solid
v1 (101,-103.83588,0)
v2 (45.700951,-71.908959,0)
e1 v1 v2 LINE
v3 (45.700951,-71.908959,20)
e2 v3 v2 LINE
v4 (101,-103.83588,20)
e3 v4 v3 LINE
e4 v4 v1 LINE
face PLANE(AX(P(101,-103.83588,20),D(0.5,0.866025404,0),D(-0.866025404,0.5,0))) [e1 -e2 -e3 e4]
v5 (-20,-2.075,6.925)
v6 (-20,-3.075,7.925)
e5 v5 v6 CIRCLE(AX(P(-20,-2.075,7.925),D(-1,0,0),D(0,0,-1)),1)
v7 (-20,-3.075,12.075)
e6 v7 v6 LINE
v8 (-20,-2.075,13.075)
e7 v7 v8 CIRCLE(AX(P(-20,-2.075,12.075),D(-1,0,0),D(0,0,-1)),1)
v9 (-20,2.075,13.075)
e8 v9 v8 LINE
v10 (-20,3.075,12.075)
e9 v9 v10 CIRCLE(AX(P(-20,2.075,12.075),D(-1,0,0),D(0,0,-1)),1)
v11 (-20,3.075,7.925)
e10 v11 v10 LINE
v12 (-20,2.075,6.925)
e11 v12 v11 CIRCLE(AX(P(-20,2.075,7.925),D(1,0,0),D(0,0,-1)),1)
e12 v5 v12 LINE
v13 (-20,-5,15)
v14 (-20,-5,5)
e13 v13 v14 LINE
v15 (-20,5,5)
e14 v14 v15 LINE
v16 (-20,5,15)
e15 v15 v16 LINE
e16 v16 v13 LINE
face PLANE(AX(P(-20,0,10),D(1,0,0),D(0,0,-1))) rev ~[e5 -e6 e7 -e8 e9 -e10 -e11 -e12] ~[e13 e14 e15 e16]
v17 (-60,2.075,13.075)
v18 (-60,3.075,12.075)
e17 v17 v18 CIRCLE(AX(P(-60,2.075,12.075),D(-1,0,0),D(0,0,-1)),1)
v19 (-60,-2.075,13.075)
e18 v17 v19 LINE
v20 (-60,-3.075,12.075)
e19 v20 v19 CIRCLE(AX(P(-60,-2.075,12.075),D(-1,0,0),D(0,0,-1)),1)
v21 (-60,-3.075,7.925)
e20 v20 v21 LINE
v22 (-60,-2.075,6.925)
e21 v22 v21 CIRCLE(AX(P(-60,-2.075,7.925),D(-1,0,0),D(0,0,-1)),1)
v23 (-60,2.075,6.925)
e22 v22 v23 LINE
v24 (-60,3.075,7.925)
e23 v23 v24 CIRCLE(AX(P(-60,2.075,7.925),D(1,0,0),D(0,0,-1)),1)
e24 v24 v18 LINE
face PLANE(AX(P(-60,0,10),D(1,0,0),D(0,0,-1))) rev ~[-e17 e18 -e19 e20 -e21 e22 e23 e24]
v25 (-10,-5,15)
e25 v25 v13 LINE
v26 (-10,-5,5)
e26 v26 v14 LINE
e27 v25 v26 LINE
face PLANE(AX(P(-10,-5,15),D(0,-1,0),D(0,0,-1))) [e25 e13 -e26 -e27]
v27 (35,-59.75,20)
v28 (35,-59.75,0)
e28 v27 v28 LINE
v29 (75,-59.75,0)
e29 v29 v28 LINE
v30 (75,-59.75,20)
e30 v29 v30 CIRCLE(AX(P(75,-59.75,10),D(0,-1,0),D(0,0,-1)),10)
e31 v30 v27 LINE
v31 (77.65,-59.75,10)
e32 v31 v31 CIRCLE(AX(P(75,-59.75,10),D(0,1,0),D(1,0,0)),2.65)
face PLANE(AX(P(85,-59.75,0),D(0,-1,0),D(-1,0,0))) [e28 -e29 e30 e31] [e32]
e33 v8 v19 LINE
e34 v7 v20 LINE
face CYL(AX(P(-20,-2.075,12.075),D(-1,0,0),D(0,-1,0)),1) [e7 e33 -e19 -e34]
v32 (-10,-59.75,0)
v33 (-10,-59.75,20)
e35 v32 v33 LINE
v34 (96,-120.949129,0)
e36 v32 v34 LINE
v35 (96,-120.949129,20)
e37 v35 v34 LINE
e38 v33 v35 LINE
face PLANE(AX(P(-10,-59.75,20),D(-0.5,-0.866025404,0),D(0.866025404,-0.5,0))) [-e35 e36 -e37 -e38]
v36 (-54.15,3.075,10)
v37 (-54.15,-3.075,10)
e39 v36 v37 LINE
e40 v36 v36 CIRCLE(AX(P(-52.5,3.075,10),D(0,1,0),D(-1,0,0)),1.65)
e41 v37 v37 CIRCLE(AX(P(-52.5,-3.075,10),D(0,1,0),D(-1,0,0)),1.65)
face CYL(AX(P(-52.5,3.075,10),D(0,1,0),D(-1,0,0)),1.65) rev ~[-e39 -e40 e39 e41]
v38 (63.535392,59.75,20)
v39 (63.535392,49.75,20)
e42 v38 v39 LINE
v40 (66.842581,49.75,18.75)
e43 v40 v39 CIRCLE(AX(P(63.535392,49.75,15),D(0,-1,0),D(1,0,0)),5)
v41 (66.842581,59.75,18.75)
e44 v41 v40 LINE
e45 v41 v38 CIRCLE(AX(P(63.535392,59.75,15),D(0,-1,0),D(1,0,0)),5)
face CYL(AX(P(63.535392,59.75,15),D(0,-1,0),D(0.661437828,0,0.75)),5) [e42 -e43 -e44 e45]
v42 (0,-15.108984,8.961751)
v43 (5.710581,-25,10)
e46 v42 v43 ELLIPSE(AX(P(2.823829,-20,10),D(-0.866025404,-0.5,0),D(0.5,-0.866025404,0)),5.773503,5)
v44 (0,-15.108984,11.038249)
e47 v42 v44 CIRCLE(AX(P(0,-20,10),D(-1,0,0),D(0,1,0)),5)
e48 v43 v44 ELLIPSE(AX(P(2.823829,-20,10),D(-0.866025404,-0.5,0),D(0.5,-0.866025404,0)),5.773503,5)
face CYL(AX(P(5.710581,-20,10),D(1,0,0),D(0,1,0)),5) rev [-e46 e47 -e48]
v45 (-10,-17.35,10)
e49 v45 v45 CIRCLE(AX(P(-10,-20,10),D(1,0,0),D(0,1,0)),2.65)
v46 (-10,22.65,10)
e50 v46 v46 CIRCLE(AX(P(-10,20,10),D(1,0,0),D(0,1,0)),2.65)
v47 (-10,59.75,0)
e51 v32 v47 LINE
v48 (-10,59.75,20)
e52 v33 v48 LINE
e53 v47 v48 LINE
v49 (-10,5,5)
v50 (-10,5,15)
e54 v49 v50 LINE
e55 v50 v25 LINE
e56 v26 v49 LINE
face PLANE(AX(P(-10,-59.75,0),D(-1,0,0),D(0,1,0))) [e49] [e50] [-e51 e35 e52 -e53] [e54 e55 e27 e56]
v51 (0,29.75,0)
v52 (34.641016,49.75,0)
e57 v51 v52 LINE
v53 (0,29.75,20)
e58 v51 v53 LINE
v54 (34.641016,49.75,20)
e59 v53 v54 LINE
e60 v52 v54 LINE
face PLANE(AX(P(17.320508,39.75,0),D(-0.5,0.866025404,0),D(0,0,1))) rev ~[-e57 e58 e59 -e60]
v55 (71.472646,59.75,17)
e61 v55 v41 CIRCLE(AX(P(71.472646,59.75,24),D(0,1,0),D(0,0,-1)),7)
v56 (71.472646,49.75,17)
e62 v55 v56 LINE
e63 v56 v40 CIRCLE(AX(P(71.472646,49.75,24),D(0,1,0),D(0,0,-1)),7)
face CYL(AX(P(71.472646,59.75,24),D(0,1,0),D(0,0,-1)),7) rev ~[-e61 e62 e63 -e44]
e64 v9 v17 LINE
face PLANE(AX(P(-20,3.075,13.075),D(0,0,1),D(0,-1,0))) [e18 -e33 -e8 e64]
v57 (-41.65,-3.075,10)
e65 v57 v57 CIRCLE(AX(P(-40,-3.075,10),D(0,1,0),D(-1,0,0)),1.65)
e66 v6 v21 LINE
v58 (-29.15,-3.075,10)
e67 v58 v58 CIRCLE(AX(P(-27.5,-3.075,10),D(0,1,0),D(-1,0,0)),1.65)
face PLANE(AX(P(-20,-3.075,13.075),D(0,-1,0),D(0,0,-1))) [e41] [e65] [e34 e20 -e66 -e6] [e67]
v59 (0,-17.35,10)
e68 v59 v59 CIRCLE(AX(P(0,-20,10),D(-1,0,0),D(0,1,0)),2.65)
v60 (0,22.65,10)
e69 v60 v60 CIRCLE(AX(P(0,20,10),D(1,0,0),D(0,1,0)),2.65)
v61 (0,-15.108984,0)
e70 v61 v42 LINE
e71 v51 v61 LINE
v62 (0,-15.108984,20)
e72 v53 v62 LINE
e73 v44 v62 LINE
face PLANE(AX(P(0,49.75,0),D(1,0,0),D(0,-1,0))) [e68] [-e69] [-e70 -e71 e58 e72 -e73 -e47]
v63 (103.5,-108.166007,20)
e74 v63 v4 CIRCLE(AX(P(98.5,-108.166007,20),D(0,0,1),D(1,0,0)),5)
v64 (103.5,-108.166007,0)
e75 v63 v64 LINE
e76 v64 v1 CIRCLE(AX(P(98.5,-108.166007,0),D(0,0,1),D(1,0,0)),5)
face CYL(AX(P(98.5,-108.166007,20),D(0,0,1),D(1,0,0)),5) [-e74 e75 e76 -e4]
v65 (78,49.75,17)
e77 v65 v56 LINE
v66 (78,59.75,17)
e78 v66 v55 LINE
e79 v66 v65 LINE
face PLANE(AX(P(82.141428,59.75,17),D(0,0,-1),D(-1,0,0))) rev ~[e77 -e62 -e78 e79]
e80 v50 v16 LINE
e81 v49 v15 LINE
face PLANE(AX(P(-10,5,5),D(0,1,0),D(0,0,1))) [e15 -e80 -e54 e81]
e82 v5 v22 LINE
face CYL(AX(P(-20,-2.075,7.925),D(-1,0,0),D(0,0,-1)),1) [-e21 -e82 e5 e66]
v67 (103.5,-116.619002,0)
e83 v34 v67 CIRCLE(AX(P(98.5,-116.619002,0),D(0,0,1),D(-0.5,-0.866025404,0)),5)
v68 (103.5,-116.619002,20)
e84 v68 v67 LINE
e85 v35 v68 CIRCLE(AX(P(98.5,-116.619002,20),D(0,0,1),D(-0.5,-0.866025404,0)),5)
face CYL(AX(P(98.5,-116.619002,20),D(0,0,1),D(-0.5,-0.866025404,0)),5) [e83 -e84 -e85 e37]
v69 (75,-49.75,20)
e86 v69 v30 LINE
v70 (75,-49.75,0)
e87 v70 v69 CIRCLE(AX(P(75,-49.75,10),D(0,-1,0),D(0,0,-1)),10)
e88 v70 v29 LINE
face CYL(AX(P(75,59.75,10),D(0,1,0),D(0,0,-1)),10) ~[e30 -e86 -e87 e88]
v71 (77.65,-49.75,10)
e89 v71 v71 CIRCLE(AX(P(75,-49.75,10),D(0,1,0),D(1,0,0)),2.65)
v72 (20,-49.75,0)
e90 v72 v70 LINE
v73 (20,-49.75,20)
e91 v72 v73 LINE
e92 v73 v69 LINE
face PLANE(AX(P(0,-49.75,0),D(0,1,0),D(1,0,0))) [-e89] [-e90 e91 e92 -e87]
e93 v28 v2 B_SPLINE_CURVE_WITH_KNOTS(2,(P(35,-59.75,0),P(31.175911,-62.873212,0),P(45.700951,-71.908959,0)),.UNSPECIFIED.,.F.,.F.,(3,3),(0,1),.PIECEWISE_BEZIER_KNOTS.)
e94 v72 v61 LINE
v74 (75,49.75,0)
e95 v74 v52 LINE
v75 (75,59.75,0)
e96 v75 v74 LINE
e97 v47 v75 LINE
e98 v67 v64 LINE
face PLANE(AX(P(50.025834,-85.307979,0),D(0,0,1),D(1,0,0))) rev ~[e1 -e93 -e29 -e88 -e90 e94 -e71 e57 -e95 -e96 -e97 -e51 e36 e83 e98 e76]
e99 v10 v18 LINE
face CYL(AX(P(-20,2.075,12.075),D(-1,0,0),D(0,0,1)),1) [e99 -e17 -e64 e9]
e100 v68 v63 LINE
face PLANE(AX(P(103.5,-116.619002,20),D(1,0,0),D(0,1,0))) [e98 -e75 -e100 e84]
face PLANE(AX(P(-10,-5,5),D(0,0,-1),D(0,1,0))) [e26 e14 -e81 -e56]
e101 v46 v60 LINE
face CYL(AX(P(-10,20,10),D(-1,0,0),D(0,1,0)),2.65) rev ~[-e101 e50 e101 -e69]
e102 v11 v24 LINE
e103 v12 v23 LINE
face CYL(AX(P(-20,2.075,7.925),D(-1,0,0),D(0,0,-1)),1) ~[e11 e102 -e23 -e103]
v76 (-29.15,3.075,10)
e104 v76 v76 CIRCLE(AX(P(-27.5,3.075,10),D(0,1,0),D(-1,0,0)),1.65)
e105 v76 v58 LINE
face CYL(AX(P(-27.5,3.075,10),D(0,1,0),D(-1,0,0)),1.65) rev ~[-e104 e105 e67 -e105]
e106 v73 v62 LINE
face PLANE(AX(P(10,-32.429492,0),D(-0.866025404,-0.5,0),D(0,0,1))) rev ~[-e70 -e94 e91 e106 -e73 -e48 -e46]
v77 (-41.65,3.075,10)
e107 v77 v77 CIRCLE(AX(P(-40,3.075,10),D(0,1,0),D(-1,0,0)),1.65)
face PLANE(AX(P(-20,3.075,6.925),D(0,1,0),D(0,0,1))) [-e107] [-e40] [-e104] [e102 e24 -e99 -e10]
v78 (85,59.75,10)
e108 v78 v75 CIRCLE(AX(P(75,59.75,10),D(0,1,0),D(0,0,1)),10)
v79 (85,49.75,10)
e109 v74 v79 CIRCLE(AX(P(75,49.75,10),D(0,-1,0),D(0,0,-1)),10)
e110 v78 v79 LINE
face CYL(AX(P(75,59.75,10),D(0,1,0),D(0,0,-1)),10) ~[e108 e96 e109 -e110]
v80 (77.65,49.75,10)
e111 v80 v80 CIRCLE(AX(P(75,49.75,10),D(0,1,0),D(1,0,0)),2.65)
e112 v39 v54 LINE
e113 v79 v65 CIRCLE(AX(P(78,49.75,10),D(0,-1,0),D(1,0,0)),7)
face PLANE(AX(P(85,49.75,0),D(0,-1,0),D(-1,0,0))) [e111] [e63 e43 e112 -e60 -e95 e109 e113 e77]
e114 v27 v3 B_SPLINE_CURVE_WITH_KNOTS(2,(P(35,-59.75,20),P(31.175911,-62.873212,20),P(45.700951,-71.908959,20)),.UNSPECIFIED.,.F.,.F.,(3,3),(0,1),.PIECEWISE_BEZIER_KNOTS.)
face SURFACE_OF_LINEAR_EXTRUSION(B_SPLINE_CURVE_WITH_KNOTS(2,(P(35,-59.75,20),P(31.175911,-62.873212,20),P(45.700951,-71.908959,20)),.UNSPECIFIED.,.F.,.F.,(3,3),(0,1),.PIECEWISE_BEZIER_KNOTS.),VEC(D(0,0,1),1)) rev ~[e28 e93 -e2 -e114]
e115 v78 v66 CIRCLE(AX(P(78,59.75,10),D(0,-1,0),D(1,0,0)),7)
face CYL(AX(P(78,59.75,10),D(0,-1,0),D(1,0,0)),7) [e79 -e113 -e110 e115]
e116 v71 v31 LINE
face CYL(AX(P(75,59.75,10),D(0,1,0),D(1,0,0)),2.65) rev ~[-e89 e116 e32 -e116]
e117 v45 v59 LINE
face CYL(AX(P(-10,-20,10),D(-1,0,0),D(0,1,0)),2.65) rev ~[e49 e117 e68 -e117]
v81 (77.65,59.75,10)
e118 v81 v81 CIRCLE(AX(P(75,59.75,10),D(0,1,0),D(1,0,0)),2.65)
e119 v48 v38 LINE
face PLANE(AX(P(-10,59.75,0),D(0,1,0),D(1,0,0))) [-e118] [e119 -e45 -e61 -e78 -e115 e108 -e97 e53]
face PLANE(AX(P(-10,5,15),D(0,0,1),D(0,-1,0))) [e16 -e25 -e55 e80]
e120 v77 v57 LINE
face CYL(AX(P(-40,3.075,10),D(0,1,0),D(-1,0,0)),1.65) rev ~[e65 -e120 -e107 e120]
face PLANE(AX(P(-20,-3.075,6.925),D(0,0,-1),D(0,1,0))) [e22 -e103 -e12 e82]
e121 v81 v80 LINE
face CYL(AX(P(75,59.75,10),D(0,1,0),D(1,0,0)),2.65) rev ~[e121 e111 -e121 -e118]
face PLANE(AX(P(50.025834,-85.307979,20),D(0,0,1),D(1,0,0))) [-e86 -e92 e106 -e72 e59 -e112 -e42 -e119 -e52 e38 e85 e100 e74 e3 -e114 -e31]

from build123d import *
from OCP.BRepFilletAPI import BRepFilletAPI_MakeChamfer, BRepFilletAPI_MakeFillet

# Parameters (mm, degrees)
EXTRUDE_1_DEPTH     = 20
EXTRUDE_2_DEPTH     = 10
EXTRUDE_START       = 10
EXTRUDE_3_DEPTH     = 40
CUT_EXTRUDE_1_DEPTH = 149.00422291272636
FILLET_1_R          = 1
SKETCH_7_R          = 1.6500000000000021
SKETCH_7_R_2        = 1.6499999999999988
CUT_EXTRUDE_2_DEPTH = 108.57314081591156
CHAMFER_1_SIZE      = 20.000000000000007
CHAMFER_1_SIZE2     = 34.64101615137772
CUT_EXTRUDE_3_REACH = 150.004
FILLET_2_R1         = 5
FILLET_2_R2         = 7
CUT_EXTRUDE_4_REACH = 115.996
CUT_EXTRUDE_START   = -15.710581
CUT_EXTRUDE_5_DEPTH = 5.7105809999999995
BOSS_EXTRUDE1_DEPTH = 20.000000000000004


with BuildPart() as part:
    # 草图1 → 凸台-拉伸1 (new body)
    with BuildSketch(Plane.XY):
        Polygon((-1.953e-14, 49.75), (1.093e-14, -49.75), (85.00000000000001, -49.74999999999995), (85.00000000000001, -59.74999999999995), (-9.999999999999986, -59.74999999999995), (-9.999999999999995, 59.749999999999986), (85, 59.75000000000001), (84.99999999999999, 49.75), align=None)
    extrude(amount=EXTRUDE_1_DEPTH)

    # 草图3 → 凸台-拉伸2 (add)
    # profile 1 of 2: a face of its own
    with BuildSketch(Plane.ZY.offset(9.99999999999999)):
        Polygon((15, 5.000000000000008), (15, -4.999999999999993), (5.000000000000002, -4.999999999999993), (5, 5.000000000000007), align=None)
        Polygon((6.925000000000001, 3.075000000000007), (6.925000000000002, -3.074999999999993), (13.075, -3.074999999999993), (13.075, 3.075000000000007), align=None, mode=Mode.SUBTRACT)
    # profile 2 of 2: a face of its own
    with BuildSketch(Plane.ZY.offset(9.99999999999999)):
        Polygon((6.925000000000001, 3.075000000000007), (13.075, 3.075000000000007), (13.075, -3.074999999999993), (6.925000000000002, -3.074999999999993), align=None)
    extrude(amount=EXTRUDE_2_DEPTH)

    # 草图3<3> → 凸台-拉伸3 (add)
    with BuildSketch(Plane.ZY.offset(9.99999999999999).offset(EXTRUDE_START)):
        Polygon((6.925000000000001, 3.075000000000007), (13.075, 3.075000000000007), (13.075, -3.074999999999993), (6.925000000000002, -3.074999999999993), align=None)
    extrude(amount=EXTRUDE_3_DEPTH)

    # 草图5 → 切除-拉伸1 (cut, through all)
    with BuildSketch(Plane(origin=(-1.309e-14, 59.749999999999986, 0), x_dir=(1, 2.3e-16, 0), z_dir=(-2.3e-16, 1, 0))):
        with BuildLine():
            ThreePointArc((72.34999999999964, -10), (74.99999999999964, -12.65), (77.64999999999965, -10))
            Line((77.64999999999965, -9.99999999999999), (72.34999999999964, -9.999999999999991))
        make_face()
        with BuildLine():
            Line((72.34999999999964, -9.999999999999991), (77.64999999999965, -9.99999999999999))
            ThreePointArc((77.64999999999965, -10), (74.99999999999964, -7.35), (72.34999999999964, -9.999999999999998))
        make_face()
        with BuildLine():
            Line((85.00000000000001, -20), (85.00000000000001, -9.999999999999995))
            ThreePointArc((84.99999999999964, -10.000000000000002), (82.07106781186489, -17.071067811865692), (74.99999999999903, -19.999999999999993))
            Line((74.99999999999903, -20), (85.00000000000001, -20))
        make_face()
        with BuildLine():
            ThreePointArc((74.99999999999908, -5.33e-15), (82.07106781186492, -2.928932188134328), (84.99999999999964, -10))
            Line((85.00000000000001, -9.999999999999995), (85.00000000000001, 0))
            Line((85.00000000000001, 0), (74.99999999999908, 0))
        make_face()
    extrude(amount=-CUT_EXTRUDE_1_DEPTH, mode=Mode.SUBTRACT)

    # 圆角1
    fillet_1_edges = [part.edges().sort_by_distance(p)[0] for p in [
        (-39.999999999999986, -3.0749999999999953, 6.925000000000002),
        (-39.999999999999986, -3.0749999999999953, 13.075),
        (-39.999999999999986, 3.0750000000000046, 13.075),
        (-39.999999999999986, 3.0750000000000046, 6.925000000000001),
    ]]
    fillet(fillet_1_edges, radius=FILLET_1_R)

    # 草图7 → 切除-拉伸2 (cut, through all)
    with BuildSketch(Plane(origin=(-1.6e-16, 3.0750000000000064, 0), x_dir=(1, 5e-17, 0), z_dir=(-5e-17, 1, 0))):
        with Locations(Location((-39.99999999999999, -10, 0), (0, 0, 180))):
            Circle(SKETCH_7_R)
        with Locations(Location((-52.49999999999999, -10.000000000000002, 0), (0, 0, 180))):
            Circle(SKETCH_7_R)
        with Locations(Location((-27.499999999999993, -9.999999999999998, 0), (0, 0, 180))):
            Circle(SKETCH_7_R_2)
    extrude(amount=-CUT_EXTRUDE_2_DEPTH, mode=Mode.SUBTRACT)

    # 倒角1: one chamfer whose edges measure the first distance from different faces: ONE call of the kernel's chamfer builder (chamfer() names one face for all edges)
    chamfer_1_edges_1 = [part.edges().sort_by_distance(p)[0] for p in [
        (-1.953e-14, 49.75, 10),
    ]]
    chamfer_1_side_1 = [part.faces().sort_by_distance(p)[0] for p in [
        (-4.3e-15, -1.94e-15, 10),
    ]]
    chamfer_1_edges_2 = [part.edges().sort_by_distance(p)[0] for p in [
        (1.093e-14, -49.75, 10),
    ]]
    chamfer_1_side_2 = [part.faces().sort_by_distance(p)[0] for p in [
        (41.004447540474715, -49.74999999999998, 9.99999999999999),
    ]]
    chamfer_1 = BRepFilletAPI_MakeChamfer(part.part.solid().wrapped)
    for e in chamfer_1_edges_1:
        chamfer_1.Add(CHAMFER_1_SIZE, CHAMFER_1_SIZE2, e.wrapped, chamfer_1_side_1[0].wrapped)  # the first distance lies on this face
    for e in chamfer_1_edges_2:
        chamfer_1.Add(CHAMFER_1_SIZE, CHAMFER_1_SIZE2, e.wrapped, chamfer_1_side_2[0].wrapped)  # the first distance lies on this face
    add(Compound.cast(chamfer_1.Shape()), mode=Mode.REPLACE)

    # 草图8 → 切除-拉伸3 (cut, up to next)
    with BuildSketch(Plane(origin=(-1.309e-14, 59.749999999999986, 0), x_dir=(1, 2.2e-16, 0), z_dir=(-2.2e-16, 1, 0)), mode=Mode.PRIVATE) as cut_extrude_3_sk1:
        with BuildLine():
            ThreePointArc((74.99999999999964, -20), (78.87298334620706, -19.219544457292884), (82.14142842854251, -16.99999999999999))
            Line((82.14142842854251, -16.999999999999993), (71.47264625833486, -16.999999999999993))
            ThreePointArc((71.47264625833486, -16.999999999999993), (68.23227590913093, -17.795163177004564), (65.72808361179683, -20.000000000000007))
            Line((65.72808361179683, -20), (74.99999999999964, -20))
        make_face()
    cut_extrude_3_tool1 = extrude(cut_extrude_3_sk1.sketch, amount=-CUT_EXTRUDE_3_REACH, mode=Mode.PRIVATE) & part.part
    add(cut_extrude_3_tool1.solids().sort_by_distance((73.723085, 59.75, 18.477053))[0], mode=Mode.SUBTRACT)

    # 圆角2: one fillet with a radius per group of edges: ONE call of the kernel's fillet builder (fillet() takes one radius for all edges)
    fillet_2_edges_1 = [part.edges().sort_by_distance(p)[0] for p in [
        (65.72808361179682, 54.75, 20.000000000000004),
    ]]
    fillet_2_edges_2 = [part.edges().sort_by_distance(p)[0] for p in [
        (82.1414284285425, 54.75, 16.999999999999993),
    ]]
    fillet_2 = BRepFilletAPI_MakeFillet(part.part.solid().wrapped)
    for e in fillet_2_edges_1:
        fillet_2.Add(FILLET_2_R1, e.wrapped)
    for e in fillet_2_edges_2:
        fillet_2.Add(FILLET_2_R2, e.wrapped)
    add(Compound.cast(fillet_2.Shape()), mode=Mode.REPLACE)

    # 草图10 → 切除-拉伸4 (cut, up to next)
    with BuildSketch(Plane.ZY.offset(9.99999999999999), mode=Mode.PRIVATE) as cut_extrude_4_sk1:
        with BuildLine():
            ThreePointArc((12.649999999999984, 20.00000000000003), (11.873832970144308, 21.873832970144406), (9.999999999999908, 22.650000000000027))
            Line((9.999999999999988, 22.650000000000027), (9.999999999999988, 20.00000000000003))
            Line((9.999999999999988, 20.00000000000003), (9.99999999999999, 17.35000000000003))
            ThreePointArc((9.999999999999908, 17.35000000000003), (11.873832970144308, 18.12616702985565), (12.649999999999984, 20.00000000000003))
        make_face()
    cut_extrude_4_tool1 = extrude(cut_extrude_4_sk1.sketch, amount=-CUT_EXTRUDE_4_REACH, mode=Mode.PRIVATE) & part.part
    # 草图10 → 切除-拉伸4 (cut, up to next)
    with BuildSketch(Plane.ZY.offset(9.99999999999999), mode=Mode.PRIVATE) as cut_extrude_4_sk2:
        with BuildLine():
            Line((9.999999999999988, 20.00000000000003), (9.999999999999988, 22.650000000000027))
            ThreePointArc((9.999999999999908, 22.650000000000027), (7.349999999999984, 20.00000000000003), (9.999999999999908, 17.35000000000003))
            Line((9.99999999999999, 17.35000000000003), (9.999999999999988, 20.00000000000003))
        make_face()
    cut_extrude_4_tool2 = extrude(cut_extrude_4_sk2.sketch, amount=-CUT_EXTRUDE_4_REACH, mode=Mode.PRIVATE) & part.part
    # 草图10 → 切除-拉伸4 (cut, up to next)
    with BuildSketch(Plane.ZY.offset(9.99999999999999), mode=Mode.PRIVATE) as cut_extrude_4_sk3:
        with BuildLine():
            ThreePointArc((12.649999999999984, 20.00000000000003), (11.873832970144308, 21.873832970144406), (9.999999999999908, 22.650000000000027))
            Line((9.999999999999988, 22.650000000000027), (9.999999999999988, 20.00000000000003))
            Line((9.999999999999988, 20.00000000000003), (9.99999999999999, 17.35000000000003))
            ThreePointArc((9.999999999999908, 17.35000000000003), (11.873832970144308, 18.12616702985565), (12.649999999999984, 20.00000000000003))
        make_face()
    cut_extrude_4_tool3 = extrude(cut_extrude_4_sk3.sketch, amount=-CUT_EXTRUDE_4_REACH, mode=Mode.PRIVATE) & part.part
    # 草图10 → 切除-拉伸4 (cut, up to next)
    with BuildSketch(Plane.ZY.offset(9.99999999999999), mode=Mode.PRIVATE) as cut_extrude_4_sk4:
        with BuildLine():
            Line((9.999999999999988, 20.00000000000003), (9.999999999999988, 22.650000000000027))
            ThreePointArc((9.999999999999908, 22.650000000000027), (7.349999999999984, 20.00000000000003), (9.999999999999908, 17.35000000000003))
            Line((9.99999999999999, 17.35000000000003), (9.999999999999988, 20.00000000000003))
        make_face()
    cut_extrude_4_tool4 = extrude(cut_extrude_4_sk4.sketch, amount=-CUT_EXTRUDE_4_REACH, mode=Mode.PRIVATE) & part.part
    # 草图10 → 切除-拉伸4 (cut, up to next)
    with BuildSketch(Plane.ZY.offset(9.99999999999999), mode=Mode.PRIVATE) as cut_extrude_4_sk5:
        with BuildLine():
            ThreePointArc((12.649999999999997, -19.99999999999997), (11.873832970144319, -18.12616702985559), (9.999999999999915, -17.349999999999973))
            Line((9.999999999999993, -17.349999999999966), (9.999999999999995, -19.99999999999997))
            Line((9.999999999999995, -19.99999999999997), (9.999999999999995, -22.649999999999977))
            ThreePointArc((9.999999999999917, -22.64999999999997), (11.873832970144319, -21.873832970144353), (12.649999999999997, -19.99999999999997))
        make_face()
    cut_extrude_4_tool5 = extrude(cut_extrude_4_sk5.sketch, amount=-CUT_EXTRUDE_4_REACH, mode=Mode.PRIVATE) & part.part
    # 草图10 → 切除-拉伸4 (cut, up to next)
    with BuildSketch(Plane.ZY.offset(9.99999999999999), mode=Mode.PRIVATE) as cut_extrude_4_sk6:
        with BuildLine():
            Line((9.999999999999995, -19.99999999999997), (9.999999999999993, -17.349999999999966))
            ThreePointArc((9.999999999999915, -17.349999999999973), (7.349999999999996, -19.99999999999997), (9.999999999999917, -22.64999999999997))
            Line((9.999999999999995, -22.649999999999977), (9.999999999999995, -19.99999999999997))
        make_face()
    cut_extrude_4_tool6 = extrude(cut_extrude_4_sk6.sketch, amount=-CUT_EXTRUDE_4_REACH, mode=Mode.PRIVATE) & part.part
    # 草图10 → 切除-拉伸4 (cut, up to next)
    with BuildSketch(Plane.ZY.offset(9.99999999999999), mode=Mode.PRIVATE) as cut_extrude_4_sk7:
        with BuildLine():
            ThreePointArc((12.649999999999997, -19.99999999999997), (11.873832970144319, -18.12616702985559), (9.999999999999915, -17.349999999999973))
            Line((9.999999999999993, -17.349999999999966), (9.999999999999995, -19.99999999999997))
            Line((9.999999999999995, -19.99999999999997), (9.999999999999995, -22.649999999999977))
            ThreePointArc((9.999999999999917, -22.64999999999997), (11.873832970144319, -21.873832970144353), (12.649999999999997, -19.99999999999997))
        make_face()
    cut_extrude_4_tool7 = extrude(cut_extrude_4_sk7.sketch, amount=-CUT_EXTRUDE_4_REACH, mode=Mode.PRIVATE) & part.part
    # 草图10 → 切除-拉伸4 (cut, up to next)
    with BuildSketch(Plane.ZY.offset(9.99999999999999), mode=Mode.PRIVATE) as cut_extrude_4_sk8:
        with BuildLine():
            Line((9.999999999999995, -19.99999999999997), (9.999999999999993, -17.349999999999966))
            ThreePointArc((9.999999999999915, -17.349999999999973), (7.349999999999996, -19.99999999999997), (9.999999999999917, -22.64999999999997))
            Line((9.999999999999995, -22.649999999999977), (9.999999999999995, -19.99999999999997))
        make_face()
    cut_extrude_4_tool8 = extrude(cut_extrude_4_sk8.sketch, amount=-CUT_EXTRUDE_4_REACH, mode=Mode.PRIVATE) & part.part
    add(cut_extrude_4_tool1.solids().sort_by_distance((-10, 20, 11.124695))[0], mode=Mode.SUBTRACT)
    add(cut_extrude_4_tool2.solids().sort_by_distance((-10, 20, 8.875305))[0], mode=Mode.SUBTRACT)
    add(cut_extrude_4_tool3.solids().sort_by_distance((-10, 20, 11.124695))[0], mode=Mode.SUBTRACT)
    add(cut_extrude_4_tool4.solids().sort_by_distance((-10, 20, 8.875305))[0], mode=Mode.SUBTRACT)
    add(cut_extrude_4_tool5.solids().sort_by_distance((-10, -20, 11.124695))[0], mode=Mode.SUBTRACT)
    add(cut_extrude_4_tool6.solids().sort_by_distance((-10, -20, 8.875305))[0], mode=Mode.SUBTRACT)
    add(cut_extrude_4_tool7.solids().sort_by_distance((-10, -20, 11.124695))[0], mode=Mode.SUBTRACT)
    add(cut_extrude_4_tool8.solids().sort_by_distance((-10, -20, 8.875305))[0], mode=Mode.SUBTRACT)

    # 草图10<3> → 切除-拉伸5 (cut)
    with BuildSketch(Plane.ZY.offset(9.99999999999999).offset(CUT_EXTRUDE_START)):
        with BuildLine():
            ThreePointArc((14.999999999999996, -19.99999999999997), (13.535533905932759, -16.46446609406726), (10.000000000000064, -14.999999999999972))
            Line((9.999999999999993, -14.999999999999972), (9.999999999999993, -17.349999999999966))
            ThreePointArc((9.999999999999915, -17.349999999999973), (11.873832970144319, -18.12616702985559), (12.649999999999997, -19.99999999999997))
            ThreePointArc((12.649999999999997, -19.99999999999997), (11.873832970144319, -21.873832970144353), (9.999999999999917, -22.64999999999997))
            Line((9.999999999999995, -22.649999999999977), (9.999999999999995, -24.99999999999997))
            ThreePointArc((10.000000000000057, -24.99999999999997), (13.535533905932756, -23.535533905932688), (14.999999999999996, -19.99999999999997))
        make_face()
        with BuildLine():
            Line((9.999999999999993, -17.349999999999966), (9.999999999999993, -14.999999999999972))
            ThreePointArc((10.000000000000064, -14.999999999999972), (4.999999999999996, -19.999999999999968), (10.000000000000057, -24.99999999999997))
            Line((9.999999999999995, -24.99999999999997), (9.999999999999995, -22.649999999999977))
            ThreePointArc((9.999999999999917, -22.64999999999997), (7.349999999999996, -19.99999999999997), (9.999999999999915, -17.349999999999973))
        make_face()
    extrude(amount=CUT_EXTRUDE_5_DEPTH, mode=Mode.SUBTRACT)

    # Sketch1 → Boss-Extrude1 (add)
    with BuildSketch(Plane.XY.offset(20)):
        with BuildLine():
            Line((-9.999999999999986, -59.74999999999996), (96, -120.94912853410044))
            ThreePointArc((96, -120.94912853410044), (101.00000000000001, -120.94912853410044), (103.50000000000001, -116.61900151517824))
            Line((103.50000000000001, -116.61900151517824), (103.50000000000001, -108.16600689897072))
            ThreePointArc((103.50000000000001, -108.16600689897072), (102.8301270189222, -105.6660068989707), (101, -103.83587988004852))
            Line((101, -103.83587988004852), (45.700950959074255, -71.90895903033973))
            add(Edge.make_bspline(
                [(35.00000000000001, -59.74999999999995), (31.175910828961968, -62.87321170356669), (45.700950959074255, -71.90895903033973)],
                knots=[0, 0, 0, 1, 1, 1], degree=2))
            Line((35.00000000000001, -59.74999999999995), (-9.999999999999986, -59.74999999999996))
        make_face()
    extrude(amount=-BOSS_EXTRUDE1_DEPTH)


solid = part.part
